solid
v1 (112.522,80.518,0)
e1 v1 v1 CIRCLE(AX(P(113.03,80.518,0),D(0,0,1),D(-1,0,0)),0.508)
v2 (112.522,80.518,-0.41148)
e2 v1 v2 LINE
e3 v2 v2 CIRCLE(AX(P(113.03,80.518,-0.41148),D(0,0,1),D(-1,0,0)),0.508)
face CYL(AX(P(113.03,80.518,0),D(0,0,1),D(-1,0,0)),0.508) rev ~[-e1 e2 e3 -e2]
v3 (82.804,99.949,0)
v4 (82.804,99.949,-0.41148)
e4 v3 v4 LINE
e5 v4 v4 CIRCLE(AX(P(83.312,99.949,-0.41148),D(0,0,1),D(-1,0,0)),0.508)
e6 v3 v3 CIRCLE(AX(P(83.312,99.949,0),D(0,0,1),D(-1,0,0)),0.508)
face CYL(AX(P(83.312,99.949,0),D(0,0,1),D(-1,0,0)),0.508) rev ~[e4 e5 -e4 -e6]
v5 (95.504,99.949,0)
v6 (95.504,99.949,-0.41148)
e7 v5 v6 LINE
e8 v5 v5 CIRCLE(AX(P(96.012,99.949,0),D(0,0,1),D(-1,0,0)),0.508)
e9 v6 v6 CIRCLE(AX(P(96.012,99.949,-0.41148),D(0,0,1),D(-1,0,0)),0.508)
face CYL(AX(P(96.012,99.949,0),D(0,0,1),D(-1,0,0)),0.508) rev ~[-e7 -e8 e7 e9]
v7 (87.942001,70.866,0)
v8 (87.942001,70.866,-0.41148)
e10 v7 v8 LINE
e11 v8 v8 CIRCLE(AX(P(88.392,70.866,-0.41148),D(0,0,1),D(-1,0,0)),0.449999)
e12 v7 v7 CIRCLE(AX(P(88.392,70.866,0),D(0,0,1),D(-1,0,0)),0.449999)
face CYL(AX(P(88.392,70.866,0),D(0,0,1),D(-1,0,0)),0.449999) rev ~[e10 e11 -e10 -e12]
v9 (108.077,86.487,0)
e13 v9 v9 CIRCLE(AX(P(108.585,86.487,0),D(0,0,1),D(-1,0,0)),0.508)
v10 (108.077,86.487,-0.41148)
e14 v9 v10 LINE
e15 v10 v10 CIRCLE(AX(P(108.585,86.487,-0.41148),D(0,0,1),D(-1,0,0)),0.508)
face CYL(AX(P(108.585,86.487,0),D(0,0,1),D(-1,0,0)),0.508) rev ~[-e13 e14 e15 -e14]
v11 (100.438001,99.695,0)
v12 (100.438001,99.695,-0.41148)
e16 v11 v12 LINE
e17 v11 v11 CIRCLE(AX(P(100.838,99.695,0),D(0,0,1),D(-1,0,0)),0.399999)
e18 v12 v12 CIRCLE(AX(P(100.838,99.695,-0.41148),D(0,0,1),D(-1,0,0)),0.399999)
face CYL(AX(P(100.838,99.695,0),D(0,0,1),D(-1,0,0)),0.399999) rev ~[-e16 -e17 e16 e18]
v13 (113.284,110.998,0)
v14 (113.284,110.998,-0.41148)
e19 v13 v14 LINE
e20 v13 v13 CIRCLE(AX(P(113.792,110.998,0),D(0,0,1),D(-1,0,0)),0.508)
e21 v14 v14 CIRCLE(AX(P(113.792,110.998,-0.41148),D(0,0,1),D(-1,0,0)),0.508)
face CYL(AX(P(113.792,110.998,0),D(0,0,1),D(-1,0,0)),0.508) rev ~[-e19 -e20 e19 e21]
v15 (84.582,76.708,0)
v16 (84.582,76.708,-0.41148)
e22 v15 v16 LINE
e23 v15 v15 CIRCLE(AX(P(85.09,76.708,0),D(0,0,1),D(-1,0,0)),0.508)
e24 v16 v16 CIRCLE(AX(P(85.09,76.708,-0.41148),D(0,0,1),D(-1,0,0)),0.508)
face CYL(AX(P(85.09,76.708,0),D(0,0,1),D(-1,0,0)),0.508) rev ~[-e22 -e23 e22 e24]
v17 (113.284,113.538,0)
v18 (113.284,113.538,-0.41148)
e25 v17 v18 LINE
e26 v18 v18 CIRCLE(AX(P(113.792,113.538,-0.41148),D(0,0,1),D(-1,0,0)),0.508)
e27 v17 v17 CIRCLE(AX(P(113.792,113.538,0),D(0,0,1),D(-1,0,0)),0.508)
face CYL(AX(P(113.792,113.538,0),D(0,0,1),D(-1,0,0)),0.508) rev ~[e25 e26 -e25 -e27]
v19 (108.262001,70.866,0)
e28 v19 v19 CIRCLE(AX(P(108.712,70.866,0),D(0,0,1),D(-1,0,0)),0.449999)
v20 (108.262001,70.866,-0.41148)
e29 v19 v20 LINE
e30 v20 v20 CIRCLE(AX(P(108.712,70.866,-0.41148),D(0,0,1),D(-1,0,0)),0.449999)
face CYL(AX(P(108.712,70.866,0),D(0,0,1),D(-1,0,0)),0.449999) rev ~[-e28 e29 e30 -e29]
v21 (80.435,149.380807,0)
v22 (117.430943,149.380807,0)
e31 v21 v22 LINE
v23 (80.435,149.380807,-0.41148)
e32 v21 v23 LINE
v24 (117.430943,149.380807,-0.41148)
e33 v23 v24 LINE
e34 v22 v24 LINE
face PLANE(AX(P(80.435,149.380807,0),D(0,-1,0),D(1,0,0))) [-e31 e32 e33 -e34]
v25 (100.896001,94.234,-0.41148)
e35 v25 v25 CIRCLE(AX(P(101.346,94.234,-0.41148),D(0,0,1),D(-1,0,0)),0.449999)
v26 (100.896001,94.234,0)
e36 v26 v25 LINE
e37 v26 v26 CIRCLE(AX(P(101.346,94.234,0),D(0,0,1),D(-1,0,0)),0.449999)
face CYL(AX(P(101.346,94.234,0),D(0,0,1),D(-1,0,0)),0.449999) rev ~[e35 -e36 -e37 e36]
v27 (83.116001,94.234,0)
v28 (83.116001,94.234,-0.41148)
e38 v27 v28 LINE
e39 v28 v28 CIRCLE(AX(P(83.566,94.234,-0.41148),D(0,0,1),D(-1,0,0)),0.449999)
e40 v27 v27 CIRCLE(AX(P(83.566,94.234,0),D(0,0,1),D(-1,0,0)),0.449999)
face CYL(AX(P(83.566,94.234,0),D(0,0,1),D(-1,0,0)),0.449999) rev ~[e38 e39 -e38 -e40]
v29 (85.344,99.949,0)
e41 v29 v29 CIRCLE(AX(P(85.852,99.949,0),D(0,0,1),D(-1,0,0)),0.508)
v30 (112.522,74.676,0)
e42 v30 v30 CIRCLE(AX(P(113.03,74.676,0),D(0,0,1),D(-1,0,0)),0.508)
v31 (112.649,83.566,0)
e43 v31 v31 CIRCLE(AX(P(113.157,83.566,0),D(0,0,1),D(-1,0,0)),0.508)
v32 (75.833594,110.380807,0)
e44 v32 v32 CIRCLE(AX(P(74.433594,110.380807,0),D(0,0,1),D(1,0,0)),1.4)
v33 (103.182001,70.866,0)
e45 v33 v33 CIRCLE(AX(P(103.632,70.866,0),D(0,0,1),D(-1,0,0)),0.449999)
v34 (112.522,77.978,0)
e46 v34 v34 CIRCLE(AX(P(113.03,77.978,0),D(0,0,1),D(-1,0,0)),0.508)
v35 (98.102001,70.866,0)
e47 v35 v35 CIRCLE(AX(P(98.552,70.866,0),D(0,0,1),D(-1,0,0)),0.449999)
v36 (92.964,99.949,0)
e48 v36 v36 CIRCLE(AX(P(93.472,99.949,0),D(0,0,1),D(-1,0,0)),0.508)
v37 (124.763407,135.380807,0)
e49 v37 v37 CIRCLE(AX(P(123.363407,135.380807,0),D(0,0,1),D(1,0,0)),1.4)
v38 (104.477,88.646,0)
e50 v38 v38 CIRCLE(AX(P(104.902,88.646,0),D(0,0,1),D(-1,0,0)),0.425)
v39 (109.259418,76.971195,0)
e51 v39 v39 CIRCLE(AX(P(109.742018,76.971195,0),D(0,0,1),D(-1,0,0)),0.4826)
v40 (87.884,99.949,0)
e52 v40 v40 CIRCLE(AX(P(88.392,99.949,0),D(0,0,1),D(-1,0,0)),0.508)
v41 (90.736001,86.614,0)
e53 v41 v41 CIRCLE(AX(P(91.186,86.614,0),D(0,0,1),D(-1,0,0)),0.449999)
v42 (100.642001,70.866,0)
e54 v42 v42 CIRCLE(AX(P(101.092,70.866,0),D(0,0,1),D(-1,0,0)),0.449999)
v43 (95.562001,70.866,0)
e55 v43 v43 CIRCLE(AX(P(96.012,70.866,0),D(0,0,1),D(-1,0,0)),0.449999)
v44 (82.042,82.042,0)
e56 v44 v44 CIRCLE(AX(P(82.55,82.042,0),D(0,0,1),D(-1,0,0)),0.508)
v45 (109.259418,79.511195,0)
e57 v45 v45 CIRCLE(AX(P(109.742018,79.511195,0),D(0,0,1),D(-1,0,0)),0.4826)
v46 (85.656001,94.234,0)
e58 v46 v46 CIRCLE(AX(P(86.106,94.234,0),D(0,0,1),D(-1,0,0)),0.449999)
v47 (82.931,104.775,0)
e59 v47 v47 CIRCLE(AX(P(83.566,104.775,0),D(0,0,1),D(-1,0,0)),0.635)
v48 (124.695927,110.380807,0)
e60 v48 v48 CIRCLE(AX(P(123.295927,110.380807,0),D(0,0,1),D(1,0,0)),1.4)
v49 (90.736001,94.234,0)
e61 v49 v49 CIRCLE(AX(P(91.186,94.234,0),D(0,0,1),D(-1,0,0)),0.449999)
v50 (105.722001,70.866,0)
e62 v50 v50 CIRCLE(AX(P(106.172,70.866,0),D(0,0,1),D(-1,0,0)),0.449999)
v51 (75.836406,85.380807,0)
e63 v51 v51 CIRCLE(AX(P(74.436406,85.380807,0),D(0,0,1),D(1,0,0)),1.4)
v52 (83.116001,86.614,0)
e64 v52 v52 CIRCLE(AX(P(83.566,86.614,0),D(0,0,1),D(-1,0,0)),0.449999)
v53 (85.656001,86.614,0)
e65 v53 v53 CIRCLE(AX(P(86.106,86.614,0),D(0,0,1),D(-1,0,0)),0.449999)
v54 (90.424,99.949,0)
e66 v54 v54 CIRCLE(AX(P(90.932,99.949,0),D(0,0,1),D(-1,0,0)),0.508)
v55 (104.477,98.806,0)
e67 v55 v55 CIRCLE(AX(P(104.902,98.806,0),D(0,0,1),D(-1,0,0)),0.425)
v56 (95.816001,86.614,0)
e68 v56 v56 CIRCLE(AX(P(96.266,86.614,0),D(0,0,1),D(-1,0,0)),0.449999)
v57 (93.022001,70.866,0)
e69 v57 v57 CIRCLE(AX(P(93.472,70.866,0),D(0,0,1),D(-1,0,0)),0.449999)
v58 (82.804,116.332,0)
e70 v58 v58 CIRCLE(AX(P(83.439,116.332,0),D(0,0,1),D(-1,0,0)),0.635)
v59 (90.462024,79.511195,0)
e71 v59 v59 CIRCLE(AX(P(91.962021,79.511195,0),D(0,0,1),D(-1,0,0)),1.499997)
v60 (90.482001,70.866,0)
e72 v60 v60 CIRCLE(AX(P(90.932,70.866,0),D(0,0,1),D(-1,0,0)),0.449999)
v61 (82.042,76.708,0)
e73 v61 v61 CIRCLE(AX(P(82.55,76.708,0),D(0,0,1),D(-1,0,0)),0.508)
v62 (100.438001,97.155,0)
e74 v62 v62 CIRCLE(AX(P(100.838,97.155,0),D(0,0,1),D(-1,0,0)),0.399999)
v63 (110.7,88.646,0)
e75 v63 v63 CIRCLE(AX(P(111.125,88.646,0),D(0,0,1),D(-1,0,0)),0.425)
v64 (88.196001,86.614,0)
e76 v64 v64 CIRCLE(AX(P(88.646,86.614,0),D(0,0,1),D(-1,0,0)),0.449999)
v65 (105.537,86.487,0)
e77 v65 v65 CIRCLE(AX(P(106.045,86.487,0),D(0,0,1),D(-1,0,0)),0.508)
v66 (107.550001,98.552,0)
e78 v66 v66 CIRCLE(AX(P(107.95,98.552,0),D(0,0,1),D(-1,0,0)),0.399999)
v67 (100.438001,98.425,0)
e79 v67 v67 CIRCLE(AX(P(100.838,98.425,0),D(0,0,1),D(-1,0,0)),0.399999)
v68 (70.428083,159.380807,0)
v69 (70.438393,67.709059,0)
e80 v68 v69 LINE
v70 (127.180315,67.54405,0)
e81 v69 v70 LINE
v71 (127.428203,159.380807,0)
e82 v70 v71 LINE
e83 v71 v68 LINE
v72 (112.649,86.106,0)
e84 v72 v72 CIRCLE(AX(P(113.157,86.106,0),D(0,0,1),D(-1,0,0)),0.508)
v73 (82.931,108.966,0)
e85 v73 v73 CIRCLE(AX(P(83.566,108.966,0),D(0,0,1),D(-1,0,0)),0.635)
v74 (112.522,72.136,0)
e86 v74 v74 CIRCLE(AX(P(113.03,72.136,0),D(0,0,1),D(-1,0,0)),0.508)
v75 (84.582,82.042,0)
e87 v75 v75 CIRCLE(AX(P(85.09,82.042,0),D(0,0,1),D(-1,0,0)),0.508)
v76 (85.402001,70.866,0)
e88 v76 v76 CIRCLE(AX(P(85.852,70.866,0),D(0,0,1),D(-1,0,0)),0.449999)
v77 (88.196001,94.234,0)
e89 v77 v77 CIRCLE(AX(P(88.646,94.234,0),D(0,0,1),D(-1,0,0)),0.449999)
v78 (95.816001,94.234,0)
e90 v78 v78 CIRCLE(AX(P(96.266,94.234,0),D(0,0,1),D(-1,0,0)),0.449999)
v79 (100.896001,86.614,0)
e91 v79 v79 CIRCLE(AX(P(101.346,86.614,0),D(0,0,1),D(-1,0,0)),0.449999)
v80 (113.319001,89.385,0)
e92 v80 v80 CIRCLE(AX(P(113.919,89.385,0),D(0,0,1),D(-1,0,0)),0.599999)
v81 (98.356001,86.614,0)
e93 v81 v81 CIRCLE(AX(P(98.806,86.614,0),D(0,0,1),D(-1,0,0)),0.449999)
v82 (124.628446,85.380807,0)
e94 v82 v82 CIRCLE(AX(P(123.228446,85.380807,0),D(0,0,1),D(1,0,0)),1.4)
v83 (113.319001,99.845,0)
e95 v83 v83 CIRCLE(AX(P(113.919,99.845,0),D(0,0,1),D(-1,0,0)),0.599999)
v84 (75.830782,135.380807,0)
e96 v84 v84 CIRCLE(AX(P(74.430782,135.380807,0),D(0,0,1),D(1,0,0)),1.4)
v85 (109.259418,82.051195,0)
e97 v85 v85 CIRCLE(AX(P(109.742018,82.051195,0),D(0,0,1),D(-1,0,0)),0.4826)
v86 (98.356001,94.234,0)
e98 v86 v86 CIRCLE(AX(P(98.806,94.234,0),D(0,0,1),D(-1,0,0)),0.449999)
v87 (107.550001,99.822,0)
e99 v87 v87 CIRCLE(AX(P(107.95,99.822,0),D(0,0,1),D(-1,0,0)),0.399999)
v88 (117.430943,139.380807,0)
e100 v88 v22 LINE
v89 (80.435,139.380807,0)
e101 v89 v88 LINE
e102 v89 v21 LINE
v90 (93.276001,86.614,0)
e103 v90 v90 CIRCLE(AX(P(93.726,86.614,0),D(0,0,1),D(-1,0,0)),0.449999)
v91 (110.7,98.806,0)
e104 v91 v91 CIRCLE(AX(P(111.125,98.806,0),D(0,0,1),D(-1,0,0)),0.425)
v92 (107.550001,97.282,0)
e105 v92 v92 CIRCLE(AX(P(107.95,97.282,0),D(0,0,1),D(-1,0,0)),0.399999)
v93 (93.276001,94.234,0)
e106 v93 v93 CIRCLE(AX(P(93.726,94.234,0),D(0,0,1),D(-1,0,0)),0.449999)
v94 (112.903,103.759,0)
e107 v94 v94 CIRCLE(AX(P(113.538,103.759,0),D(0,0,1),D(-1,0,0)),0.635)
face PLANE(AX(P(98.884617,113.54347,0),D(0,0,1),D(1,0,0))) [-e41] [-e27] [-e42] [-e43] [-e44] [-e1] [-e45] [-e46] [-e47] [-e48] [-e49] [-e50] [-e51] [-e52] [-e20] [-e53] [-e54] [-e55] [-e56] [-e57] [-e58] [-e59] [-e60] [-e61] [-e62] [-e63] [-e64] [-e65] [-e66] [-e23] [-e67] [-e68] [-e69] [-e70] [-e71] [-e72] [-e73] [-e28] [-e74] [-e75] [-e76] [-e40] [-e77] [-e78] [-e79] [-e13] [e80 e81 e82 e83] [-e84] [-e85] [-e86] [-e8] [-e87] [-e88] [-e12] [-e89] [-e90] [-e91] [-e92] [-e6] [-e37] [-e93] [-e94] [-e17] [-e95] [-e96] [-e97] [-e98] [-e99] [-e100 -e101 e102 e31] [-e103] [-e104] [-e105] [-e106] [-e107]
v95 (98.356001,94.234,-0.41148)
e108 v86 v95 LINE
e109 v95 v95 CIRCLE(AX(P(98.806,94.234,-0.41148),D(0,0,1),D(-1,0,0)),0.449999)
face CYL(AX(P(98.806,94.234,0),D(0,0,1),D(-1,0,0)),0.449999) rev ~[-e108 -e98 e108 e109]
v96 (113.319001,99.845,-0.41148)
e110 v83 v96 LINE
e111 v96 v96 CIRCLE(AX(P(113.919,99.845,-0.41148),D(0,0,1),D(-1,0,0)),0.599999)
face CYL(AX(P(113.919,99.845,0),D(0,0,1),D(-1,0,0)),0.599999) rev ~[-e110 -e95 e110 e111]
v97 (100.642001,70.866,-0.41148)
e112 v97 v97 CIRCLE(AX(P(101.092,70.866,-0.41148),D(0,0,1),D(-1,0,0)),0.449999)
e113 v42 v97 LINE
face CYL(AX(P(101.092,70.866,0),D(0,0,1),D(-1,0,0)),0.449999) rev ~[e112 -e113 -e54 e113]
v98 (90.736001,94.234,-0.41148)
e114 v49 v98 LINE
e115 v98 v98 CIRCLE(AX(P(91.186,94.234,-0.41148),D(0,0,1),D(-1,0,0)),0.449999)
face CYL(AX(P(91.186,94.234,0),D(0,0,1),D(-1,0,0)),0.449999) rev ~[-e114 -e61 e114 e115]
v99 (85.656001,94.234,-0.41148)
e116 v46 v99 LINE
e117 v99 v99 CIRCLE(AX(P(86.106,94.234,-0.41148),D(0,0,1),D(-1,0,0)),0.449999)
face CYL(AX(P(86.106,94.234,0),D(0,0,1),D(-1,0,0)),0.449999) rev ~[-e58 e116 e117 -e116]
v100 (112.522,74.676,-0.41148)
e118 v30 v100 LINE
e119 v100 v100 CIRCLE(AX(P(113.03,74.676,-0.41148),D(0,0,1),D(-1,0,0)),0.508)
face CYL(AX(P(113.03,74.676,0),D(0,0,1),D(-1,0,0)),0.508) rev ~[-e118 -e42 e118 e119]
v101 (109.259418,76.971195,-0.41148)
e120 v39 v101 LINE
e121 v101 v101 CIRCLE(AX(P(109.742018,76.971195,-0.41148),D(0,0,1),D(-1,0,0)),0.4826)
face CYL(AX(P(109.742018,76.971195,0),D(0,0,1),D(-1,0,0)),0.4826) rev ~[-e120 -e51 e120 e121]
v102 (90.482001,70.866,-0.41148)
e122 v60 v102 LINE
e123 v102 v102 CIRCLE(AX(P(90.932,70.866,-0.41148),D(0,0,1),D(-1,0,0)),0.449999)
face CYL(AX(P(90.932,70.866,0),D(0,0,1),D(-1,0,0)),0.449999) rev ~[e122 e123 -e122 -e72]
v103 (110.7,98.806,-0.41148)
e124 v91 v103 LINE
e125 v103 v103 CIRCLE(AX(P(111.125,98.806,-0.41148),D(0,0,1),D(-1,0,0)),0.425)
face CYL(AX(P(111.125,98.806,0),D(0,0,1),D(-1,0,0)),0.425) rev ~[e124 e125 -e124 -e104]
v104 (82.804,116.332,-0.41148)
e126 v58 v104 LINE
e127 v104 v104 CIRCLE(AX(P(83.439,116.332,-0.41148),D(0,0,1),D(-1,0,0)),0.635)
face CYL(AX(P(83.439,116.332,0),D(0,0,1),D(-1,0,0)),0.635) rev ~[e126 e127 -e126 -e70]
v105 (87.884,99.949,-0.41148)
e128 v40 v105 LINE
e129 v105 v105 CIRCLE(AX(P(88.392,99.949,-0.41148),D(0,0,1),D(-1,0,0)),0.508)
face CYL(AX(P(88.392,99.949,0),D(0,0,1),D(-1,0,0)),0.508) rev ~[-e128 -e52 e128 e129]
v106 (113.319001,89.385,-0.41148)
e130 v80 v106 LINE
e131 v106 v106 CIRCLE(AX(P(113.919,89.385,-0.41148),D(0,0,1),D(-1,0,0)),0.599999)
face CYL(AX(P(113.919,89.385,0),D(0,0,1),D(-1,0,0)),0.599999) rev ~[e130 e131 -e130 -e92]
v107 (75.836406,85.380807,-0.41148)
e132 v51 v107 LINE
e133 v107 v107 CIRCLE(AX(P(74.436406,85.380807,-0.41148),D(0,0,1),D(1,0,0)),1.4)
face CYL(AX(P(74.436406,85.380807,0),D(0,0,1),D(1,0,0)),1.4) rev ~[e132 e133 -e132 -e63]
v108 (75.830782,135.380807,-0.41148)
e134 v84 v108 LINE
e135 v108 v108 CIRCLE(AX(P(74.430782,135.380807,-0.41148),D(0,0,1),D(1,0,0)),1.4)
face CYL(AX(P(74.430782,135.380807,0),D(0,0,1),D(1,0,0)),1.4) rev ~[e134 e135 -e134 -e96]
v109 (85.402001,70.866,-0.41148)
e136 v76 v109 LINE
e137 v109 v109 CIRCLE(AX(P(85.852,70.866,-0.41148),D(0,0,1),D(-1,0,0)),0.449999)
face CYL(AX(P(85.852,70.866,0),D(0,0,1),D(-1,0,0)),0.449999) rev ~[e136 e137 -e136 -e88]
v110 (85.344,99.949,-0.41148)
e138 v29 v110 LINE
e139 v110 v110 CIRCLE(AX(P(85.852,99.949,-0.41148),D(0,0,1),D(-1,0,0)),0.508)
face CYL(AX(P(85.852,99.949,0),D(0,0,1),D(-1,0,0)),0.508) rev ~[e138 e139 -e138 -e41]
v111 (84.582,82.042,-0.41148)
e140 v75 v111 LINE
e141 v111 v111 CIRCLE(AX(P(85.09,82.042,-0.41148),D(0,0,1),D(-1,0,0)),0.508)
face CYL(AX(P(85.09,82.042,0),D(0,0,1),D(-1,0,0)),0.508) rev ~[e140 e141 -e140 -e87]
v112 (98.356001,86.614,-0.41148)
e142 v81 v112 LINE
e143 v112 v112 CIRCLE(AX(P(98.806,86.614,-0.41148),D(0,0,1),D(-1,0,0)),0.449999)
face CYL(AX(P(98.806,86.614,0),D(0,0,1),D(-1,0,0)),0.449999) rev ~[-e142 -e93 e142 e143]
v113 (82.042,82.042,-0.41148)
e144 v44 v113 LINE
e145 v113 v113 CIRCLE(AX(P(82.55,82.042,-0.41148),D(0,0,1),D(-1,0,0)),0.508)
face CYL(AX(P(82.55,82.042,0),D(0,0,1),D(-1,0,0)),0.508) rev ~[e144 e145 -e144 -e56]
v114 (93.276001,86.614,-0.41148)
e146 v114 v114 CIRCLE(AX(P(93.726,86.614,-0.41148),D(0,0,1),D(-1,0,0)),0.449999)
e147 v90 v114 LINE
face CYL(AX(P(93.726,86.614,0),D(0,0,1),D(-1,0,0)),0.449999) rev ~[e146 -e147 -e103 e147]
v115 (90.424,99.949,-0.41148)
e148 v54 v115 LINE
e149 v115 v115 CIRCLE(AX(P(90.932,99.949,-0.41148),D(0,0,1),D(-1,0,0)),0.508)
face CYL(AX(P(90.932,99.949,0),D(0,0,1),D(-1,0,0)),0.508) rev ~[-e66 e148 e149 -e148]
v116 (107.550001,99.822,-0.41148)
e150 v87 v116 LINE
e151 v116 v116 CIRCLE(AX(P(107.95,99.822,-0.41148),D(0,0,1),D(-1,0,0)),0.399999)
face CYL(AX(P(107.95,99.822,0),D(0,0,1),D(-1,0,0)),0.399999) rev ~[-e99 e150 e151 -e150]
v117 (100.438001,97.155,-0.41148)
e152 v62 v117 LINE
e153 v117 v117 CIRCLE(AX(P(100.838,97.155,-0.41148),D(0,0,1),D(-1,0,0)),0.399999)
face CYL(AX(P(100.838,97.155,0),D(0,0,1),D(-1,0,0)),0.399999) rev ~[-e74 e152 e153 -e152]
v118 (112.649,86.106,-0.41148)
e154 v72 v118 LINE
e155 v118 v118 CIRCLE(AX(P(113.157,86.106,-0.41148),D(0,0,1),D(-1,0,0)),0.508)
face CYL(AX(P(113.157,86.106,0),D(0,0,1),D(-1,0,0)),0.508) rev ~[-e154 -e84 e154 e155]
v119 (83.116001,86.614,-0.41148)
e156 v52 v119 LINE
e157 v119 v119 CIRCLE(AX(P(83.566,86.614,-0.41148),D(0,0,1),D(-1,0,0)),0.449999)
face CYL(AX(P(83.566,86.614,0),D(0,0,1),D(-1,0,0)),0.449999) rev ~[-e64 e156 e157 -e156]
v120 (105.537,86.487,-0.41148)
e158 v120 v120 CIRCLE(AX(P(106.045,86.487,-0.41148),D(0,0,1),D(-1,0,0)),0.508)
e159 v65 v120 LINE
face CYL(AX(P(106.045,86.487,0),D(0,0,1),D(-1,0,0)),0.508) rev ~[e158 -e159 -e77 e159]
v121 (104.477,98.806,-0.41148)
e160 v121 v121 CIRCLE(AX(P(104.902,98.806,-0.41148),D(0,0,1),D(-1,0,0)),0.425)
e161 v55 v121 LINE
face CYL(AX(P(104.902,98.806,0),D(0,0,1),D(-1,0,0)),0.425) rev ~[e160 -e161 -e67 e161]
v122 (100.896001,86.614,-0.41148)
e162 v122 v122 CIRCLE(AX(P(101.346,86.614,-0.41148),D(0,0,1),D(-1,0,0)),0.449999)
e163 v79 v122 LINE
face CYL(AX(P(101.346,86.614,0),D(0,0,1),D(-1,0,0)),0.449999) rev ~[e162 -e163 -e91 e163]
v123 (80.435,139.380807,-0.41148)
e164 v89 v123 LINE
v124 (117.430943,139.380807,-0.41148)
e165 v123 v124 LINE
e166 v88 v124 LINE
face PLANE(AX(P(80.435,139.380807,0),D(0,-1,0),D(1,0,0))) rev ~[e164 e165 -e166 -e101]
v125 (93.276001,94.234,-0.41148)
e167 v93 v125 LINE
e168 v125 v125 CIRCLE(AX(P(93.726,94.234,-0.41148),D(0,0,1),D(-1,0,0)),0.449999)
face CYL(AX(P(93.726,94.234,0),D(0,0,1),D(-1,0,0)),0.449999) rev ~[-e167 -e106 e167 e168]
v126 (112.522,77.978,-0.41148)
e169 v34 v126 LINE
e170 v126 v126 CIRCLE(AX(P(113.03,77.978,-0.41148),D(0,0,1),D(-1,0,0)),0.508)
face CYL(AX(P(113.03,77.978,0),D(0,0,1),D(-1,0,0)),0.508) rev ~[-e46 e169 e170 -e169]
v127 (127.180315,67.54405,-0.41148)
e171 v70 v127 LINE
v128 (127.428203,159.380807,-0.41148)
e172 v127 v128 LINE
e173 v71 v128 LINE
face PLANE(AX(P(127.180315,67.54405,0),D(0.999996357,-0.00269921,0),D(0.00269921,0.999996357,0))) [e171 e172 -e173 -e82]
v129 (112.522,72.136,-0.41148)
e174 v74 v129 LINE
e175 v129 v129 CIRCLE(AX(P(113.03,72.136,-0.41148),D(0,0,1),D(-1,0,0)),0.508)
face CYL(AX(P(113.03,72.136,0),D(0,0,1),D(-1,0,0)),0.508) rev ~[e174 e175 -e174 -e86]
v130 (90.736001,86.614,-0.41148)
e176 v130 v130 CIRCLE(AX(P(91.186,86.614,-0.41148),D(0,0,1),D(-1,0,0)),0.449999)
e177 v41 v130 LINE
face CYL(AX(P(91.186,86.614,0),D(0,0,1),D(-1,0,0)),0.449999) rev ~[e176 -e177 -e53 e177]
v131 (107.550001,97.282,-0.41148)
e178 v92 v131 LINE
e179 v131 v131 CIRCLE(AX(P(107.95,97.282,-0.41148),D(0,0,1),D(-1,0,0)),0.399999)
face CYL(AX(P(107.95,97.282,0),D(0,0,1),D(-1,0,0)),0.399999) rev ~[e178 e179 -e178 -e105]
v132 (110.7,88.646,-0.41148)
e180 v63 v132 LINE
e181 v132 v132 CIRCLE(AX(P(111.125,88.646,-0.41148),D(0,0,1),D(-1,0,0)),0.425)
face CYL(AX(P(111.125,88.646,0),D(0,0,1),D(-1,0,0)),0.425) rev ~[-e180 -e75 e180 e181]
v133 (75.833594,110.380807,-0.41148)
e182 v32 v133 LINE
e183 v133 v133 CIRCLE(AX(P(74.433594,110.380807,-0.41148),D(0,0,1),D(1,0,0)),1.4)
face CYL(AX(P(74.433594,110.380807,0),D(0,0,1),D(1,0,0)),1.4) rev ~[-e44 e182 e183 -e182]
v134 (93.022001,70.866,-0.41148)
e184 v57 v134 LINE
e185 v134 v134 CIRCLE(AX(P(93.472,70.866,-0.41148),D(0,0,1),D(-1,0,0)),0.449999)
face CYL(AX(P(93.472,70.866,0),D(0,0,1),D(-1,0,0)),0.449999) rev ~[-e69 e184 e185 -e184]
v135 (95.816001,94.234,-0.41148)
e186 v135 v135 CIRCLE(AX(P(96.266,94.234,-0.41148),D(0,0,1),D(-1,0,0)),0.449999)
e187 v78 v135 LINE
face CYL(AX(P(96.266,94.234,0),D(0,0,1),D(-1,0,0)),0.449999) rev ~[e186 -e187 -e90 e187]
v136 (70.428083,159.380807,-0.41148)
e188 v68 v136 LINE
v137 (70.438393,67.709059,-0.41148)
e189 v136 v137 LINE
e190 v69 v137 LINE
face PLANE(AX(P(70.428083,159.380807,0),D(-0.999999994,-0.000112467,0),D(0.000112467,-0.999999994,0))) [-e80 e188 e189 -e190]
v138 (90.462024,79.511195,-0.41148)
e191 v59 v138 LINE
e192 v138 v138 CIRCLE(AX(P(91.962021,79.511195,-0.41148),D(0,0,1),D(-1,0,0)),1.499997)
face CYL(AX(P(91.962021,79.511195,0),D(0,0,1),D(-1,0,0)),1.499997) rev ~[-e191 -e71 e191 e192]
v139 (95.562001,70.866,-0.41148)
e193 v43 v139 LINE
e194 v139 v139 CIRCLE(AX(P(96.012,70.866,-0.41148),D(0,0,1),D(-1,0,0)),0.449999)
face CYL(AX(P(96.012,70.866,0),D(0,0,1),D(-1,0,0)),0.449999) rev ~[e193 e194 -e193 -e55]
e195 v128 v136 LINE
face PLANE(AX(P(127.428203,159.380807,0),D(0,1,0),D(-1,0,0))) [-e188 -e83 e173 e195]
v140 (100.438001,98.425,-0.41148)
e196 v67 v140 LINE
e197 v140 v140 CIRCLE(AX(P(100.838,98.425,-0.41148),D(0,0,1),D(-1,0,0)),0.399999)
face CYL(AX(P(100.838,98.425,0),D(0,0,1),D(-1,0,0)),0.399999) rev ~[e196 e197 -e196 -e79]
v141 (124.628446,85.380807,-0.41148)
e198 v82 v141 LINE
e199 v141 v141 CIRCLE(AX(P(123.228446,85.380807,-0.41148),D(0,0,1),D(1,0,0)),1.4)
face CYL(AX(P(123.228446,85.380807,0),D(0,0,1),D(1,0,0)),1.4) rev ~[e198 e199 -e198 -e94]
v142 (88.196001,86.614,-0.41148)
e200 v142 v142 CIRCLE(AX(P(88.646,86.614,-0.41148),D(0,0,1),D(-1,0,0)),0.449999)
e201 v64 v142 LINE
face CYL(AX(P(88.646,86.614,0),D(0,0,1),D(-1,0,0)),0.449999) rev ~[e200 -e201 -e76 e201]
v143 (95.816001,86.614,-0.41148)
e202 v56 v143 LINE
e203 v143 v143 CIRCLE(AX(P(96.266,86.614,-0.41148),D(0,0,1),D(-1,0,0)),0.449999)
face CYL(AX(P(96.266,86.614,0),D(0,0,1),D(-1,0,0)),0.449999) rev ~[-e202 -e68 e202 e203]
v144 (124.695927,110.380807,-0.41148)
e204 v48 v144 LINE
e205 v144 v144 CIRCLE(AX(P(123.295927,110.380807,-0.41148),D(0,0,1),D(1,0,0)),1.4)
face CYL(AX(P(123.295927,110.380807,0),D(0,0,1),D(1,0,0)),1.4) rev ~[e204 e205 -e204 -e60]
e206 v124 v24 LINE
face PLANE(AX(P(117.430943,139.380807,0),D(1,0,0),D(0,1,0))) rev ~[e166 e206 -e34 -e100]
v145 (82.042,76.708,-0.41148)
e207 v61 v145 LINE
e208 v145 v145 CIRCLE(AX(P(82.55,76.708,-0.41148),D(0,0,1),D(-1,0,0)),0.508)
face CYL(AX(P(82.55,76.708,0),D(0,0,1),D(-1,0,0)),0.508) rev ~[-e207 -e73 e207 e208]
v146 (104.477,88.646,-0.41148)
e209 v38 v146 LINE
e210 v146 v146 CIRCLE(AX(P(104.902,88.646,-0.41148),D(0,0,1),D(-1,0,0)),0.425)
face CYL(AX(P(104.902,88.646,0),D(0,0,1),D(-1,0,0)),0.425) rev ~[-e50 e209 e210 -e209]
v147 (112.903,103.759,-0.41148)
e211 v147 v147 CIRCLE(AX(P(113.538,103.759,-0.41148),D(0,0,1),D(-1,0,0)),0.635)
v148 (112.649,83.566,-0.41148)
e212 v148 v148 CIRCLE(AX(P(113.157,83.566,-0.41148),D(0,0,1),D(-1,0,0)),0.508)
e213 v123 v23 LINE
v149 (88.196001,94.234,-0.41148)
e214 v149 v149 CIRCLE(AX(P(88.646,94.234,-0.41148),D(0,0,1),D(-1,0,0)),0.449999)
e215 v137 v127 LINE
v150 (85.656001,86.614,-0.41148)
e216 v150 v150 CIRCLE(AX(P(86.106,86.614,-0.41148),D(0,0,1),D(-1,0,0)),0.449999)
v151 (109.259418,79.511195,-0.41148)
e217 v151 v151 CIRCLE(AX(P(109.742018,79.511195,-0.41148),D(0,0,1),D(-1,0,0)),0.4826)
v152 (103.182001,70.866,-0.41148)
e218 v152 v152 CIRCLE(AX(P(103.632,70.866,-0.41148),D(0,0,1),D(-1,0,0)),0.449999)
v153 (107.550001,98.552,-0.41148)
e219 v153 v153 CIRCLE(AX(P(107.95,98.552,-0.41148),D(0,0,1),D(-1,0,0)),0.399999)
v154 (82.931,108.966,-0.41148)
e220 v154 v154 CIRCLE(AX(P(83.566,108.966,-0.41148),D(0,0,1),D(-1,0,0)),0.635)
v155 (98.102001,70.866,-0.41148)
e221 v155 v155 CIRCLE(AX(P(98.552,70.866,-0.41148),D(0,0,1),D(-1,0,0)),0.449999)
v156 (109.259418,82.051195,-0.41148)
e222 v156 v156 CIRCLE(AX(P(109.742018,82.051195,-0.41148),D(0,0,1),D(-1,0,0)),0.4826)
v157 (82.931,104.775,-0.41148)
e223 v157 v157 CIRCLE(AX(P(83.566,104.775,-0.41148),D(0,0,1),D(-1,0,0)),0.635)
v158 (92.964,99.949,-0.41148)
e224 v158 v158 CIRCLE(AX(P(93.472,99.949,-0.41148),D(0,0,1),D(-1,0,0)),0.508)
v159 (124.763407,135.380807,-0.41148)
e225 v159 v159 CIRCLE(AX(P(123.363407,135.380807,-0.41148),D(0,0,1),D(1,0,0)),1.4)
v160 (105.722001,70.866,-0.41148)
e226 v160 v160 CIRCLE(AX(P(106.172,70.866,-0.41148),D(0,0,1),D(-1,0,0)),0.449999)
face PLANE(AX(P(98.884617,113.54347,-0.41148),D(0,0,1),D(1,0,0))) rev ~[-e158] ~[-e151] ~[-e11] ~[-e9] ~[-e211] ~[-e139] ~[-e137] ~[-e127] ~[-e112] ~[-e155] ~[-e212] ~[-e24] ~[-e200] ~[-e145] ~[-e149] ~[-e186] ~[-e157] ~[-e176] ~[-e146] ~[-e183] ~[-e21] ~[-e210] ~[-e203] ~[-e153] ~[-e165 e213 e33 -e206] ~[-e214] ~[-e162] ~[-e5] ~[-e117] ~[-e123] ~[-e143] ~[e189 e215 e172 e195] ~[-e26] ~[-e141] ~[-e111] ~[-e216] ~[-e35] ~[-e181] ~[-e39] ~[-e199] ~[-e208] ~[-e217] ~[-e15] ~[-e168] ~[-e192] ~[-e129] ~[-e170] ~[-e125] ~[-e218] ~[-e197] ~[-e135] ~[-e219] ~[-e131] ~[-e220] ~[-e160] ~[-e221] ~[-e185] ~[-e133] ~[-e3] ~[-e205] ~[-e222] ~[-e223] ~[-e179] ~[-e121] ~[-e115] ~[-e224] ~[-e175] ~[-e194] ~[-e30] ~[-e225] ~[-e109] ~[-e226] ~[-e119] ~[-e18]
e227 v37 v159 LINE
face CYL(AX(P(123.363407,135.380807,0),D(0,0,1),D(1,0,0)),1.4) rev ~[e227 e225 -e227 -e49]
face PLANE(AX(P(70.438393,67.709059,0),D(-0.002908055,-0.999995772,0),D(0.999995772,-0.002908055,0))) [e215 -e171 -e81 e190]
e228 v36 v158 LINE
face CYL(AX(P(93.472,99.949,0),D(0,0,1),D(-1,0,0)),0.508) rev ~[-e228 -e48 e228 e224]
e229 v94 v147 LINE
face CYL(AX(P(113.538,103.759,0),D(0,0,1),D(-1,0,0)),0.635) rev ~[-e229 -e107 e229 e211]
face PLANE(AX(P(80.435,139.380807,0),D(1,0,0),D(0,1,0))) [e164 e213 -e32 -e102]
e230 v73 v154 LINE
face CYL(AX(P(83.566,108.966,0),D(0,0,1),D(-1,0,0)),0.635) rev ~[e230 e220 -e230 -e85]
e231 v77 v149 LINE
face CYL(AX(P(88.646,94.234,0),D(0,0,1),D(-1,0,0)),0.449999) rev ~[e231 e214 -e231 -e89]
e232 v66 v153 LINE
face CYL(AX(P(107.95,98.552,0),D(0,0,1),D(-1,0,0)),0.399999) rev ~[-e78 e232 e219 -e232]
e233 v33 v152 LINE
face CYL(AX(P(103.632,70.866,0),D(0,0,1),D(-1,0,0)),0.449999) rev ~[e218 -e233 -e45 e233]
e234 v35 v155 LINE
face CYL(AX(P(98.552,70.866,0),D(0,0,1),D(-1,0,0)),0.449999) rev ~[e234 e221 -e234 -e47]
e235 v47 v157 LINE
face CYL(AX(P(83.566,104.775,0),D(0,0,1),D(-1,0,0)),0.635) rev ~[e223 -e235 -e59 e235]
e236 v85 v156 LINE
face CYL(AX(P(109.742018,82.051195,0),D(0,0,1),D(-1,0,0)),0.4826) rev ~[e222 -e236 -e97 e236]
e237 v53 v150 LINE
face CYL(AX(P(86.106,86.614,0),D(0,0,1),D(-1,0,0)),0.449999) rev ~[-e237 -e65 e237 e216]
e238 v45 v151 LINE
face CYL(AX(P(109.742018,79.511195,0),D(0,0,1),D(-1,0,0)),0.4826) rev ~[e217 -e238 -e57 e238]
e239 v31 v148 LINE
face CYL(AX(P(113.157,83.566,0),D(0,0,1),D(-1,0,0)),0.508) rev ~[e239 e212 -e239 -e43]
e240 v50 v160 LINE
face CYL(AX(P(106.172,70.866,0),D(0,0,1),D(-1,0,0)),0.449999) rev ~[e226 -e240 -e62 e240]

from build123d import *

# Parameters (mm, degrees)
SKETCH1_R           = 0.508
SKETCH1_R_2         = 0.5999988
SKETCH1_R_3         = 0.635
SKETCH1_R_4         = 0.3999992
SKETCH1_R_5         = 0.42500042
SKETCH1_R_6         = 0.4499991
SKETCH1_R_7         = 0.4826
SKETCH1_R_8         = 1.499997
SKETCH1_R_9         = 1.4
SKETCH1_W           = 36.995943026
SKETCH1_H           = 10
BOSS_EXTRUDE1_DEPTH = 0.41148


with BuildPart() as part:
    # Sketch1 → Boss-Extrude1 (new body)
    with BuildSketch(Plane.XY):
        Polygon((70.438392982, 67.709058894), (127.180315397, 67.544049582), (127.428203039, 159.380807101), (70.428082966, 159.380807101), align=None)
        with Locations(Location((113.792, 110.998, 0), (0, 0, 180))):
            Circle(SKETCH1_R, mode=Mode.SUBTRACT)
        with Locations(Location((113.792, 113.538, 0), (0, 0, 180))):
            Circle(SKETCH1_R, mode=Mode.SUBTRACT)
        with Locations(Location((113.919, 99.8449997, 0), (0, 0, 180))):
            Circle(SKETCH1_R_2, mode=Mode.SUBTRACT)
        with Locations(Location((113.538, 103.759, 0), (0, 0, 180))):
            Circle(SKETCH1_R_3, mode=Mode.SUBTRACT)
        with Locations(Location((107.95, 99.822, 0), (0, 0, 180))):
            Circle(SKETCH1_R_4, mode=Mode.SUBTRACT)
        with Locations(Location((111.125, 98.806, 0), (0, 0, 180))):
            Circle(SKETCH1_R_5, mode=Mode.SUBTRACT)
        with Locations(Location((113.919, 89.3850003, 0), (0, 0, 180))):
            Circle(SKETCH1_R_2, mode=Mode.SUBTRACT)
        with Locations(Location((107.95, 98.552, 0), (0, 0, 180))):
            Circle(SKETCH1_R_4, mode=Mode.SUBTRACT)
        with Locations(Location((111.125, 88.646, 0), (0, 0, 180))):
            Circle(SKETCH1_R_5, mode=Mode.SUBTRACT)
        with Locations(Location((104.902, 98.806, 0), (0, 0, 180))):
            Circle(SKETCH1_R_5, mode=Mode.SUBTRACT)
        with Locations(Location((107.95, 97.282, 0), (0, 0, 180))):
            Circle(SKETCH1_R_4, mode=Mode.SUBTRACT)
        with Locations(Location((100.838, 99.695, 0), (0, 0, 180))):
            Circle(SKETCH1_R_4, mode=Mode.SUBTRACT)
        with Locations(Location((100.838, 98.425, 0), (0, 0, 180))):
            Circle(SKETCH1_R_4, mode=Mode.SUBTRACT)
        with Locations(Location((101.346, 94.234, 0), (0, 0, 180))):
            Circle(SKETCH1_R_6, mode=Mode.SUBTRACT)
        with Locations(Location((104.902, 88.646, 0), (0, 0, 180))):
            Circle(SKETCH1_R_5, mode=Mode.SUBTRACT)
        with Locations(Location((100.838, 97.155, 0), (0, 0, 180))):
            Circle(SKETCH1_R_4, mode=Mode.SUBTRACT)
        with Locations(Location((101.346, 86.614, 0), (0, 0, 180))):
            Circle(SKETCH1_R_6, mode=Mode.SUBTRACT)
        with Locations(Location((113.157, 86.106, 0), (0, 0, 180))):
            Circle(SKETCH1_R, mode=Mode.SUBTRACT)
        with Locations(Location((113.157, 83.566, 0), (0, 0, 180))):
            Circle(SKETCH1_R, mode=Mode.SUBTRACT)
        with Locations(Location((109.74201826, 82.0511948, 0), (0, 0, 180))):
            Circle(SKETCH1_R_7, mode=Mode.SUBTRACT)
        with Locations(Location((113.03, 80.518, 0), (0, 0, 180))):
            Circle(SKETCH1_R, mode=Mode.SUBTRACT)
        with Locations(Location((113.03, 74.676, 0), (0, 0, 180))):
            Circle(SKETCH1_R, mode=Mode.SUBTRACT)
        with Locations(Location((113.03, 72.136, 0), (0, 0, 180))):
            Circle(SKETCH1_R, mode=Mode.SUBTRACT)
        with Locations(Location((109.74201826, 79.5111948, 0), (0, 0, 180))):
            Circle(SKETCH1_R_7, mode=Mode.SUBTRACT)
        with Locations(Location((113.03, 77.978, 0), (0, 0, 180))):
            Circle(SKETCH1_R, mode=Mode.SUBTRACT)
        with Locations(Location((108.585, 86.487, 0), (0, 0, 180))):
            Circle(SKETCH1_R, mode=Mode.SUBTRACT)
        with Locations(Location((109.74201826, 76.9711948, 0), (0, 0, 180))):
            Circle(SKETCH1_R_7, mode=Mode.SUBTRACT)
        with Locations(Location((98.806, 86.614, 0), (0, 0, 180))):
            Circle(SKETCH1_R_6, mode=Mode.SUBTRACT)
        with Locations(Location((106.045, 86.487, 0), (0, 0, 180))):
            Circle(SKETCH1_R, mode=Mode.SUBTRACT)
        with Locations(Location((106.172, 70.866, 0), (0, 0, 180))):
            Circle(SKETCH1_R_6, mode=Mode.SUBTRACT)
        with Locations(Location((108.712, 70.866, 0), (0, 0, 180))):
            Circle(SKETCH1_R_6, mode=Mode.SUBTRACT)
        with Locations(Location((101.092, 70.866, 0), (0, 0, 180))):
            Circle(SKETCH1_R_6, mode=Mode.SUBTRACT)
        with Locations(Location((103.632, 70.866, 0), (0, 0, 180))):
            Circle(SKETCH1_R_6, mode=Mode.SUBTRACT)
        with Locations(Location((96.266, 94.234, 0), (0, 0, 180))):
            Circle(SKETCH1_R_6, mode=Mode.SUBTRACT)
        with Locations(Location((96.012, 99.949, 0), (0, 0, 180))):
            Circle(SKETCH1_R, mode=Mode.SUBTRACT)
        with Locations(Location((93.726, 94.234, 0), (0, 0, 180))):
            Circle(SKETCH1_R_6, mode=Mode.SUBTRACT)
        with Locations(Location((90.932, 99.949, 0), (0, 0, 180))):
            Circle(SKETCH1_R, mode=Mode.SUBTRACT)
        with Locations(Location((93.472, 99.949, 0), (0, 0, 180))):
            Circle(SKETCH1_R, mode=Mode.SUBTRACT)
        with Locations(Location((98.806, 94.234, 0), (0, 0, 180))):
            Circle(SKETCH1_R_6, mode=Mode.SUBTRACT)
        with Locations(Location((93.726, 86.614, 0), (0, 0, 180))):
            Circle(SKETCH1_R_6, mode=Mode.SUBTRACT)
        with Locations(Location((88.646, 94.234, 0), (0, 0, 180))):
            Circle(SKETCH1_R_6, mode=Mode.SUBTRACT)
        with Locations(Location((91.186, 94.234, 0), (0, 0, 180))):
            Circle(SKETCH1_R_6, mode=Mode.SUBTRACT)
        with Locations(Location((83.566, 104.775, 0), (0, 0, 180))):
            Circle(SKETCH1_R_3, mode=Mode.SUBTRACT)
        with Locations(Location((85.852, 99.949, 0), (0, 0, 180))):
            Circle(SKETCH1_R, mode=Mode.SUBTRACT)
        with Locations(Location((83.439, 116.332, 0), (0, 0, 180))):
            Circle(SKETCH1_R_3, mode=Mode.SUBTRACT)
        with Locations(Location((83.566, 108.966, 0), (0, 0, 180))):
            Circle(SKETCH1_R_3, mode=Mode.SUBTRACT)
        with Locations(Location((88.392, 99.949, 0), (0, 0, 180))):
            Circle(SKETCH1_R, mode=Mode.SUBTRACT)
        with Locations(Location((86.106, 94.234, 0), (0, 0, 180))):
            Circle(SKETCH1_R_6, mode=Mode.SUBTRACT)
        with Locations(Location((83.312, 99.949, 0), (0, 0, 180))):
            Circle(SKETCH1_R, mode=Mode.SUBTRACT)
        with Locations(Location((83.566, 94.234, 0), (0, 0, 180))):
            Circle(SKETCH1_R_6, mode=Mode.SUBTRACT)
        with Locations(Location((91.186, 86.614, 0), (0, 0, 180))):
            Circle(SKETCH1_R_6, mode=Mode.SUBTRACT)
        with Locations(Location((96.266, 86.614, 0), (0, 0, 180))):
            Circle(SKETCH1_R_6, mode=Mode.SUBTRACT)
        with Locations(Location((88.646, 86.614, 0), (0, 0, 180))):
            Circle(SKETCH1_R_6, mode=Mode.SUBTRACT)
        with Locations(Location((91.9620208, 79.5111948, 0), (0, 0, 180))):
            Circle(SKETCH1_R_8, mode=Mode.SUBTRACT)
        with Locations(Location((96.012, 70.866, 0), (0, 0, 180))):
            Circle(SKETCH1_R_6, mode=Mode.SUBTRACT)
        with Locations(Location((98.552, 70.866, 0), (0, 0, 180))):
            Circle(SKETCH1_R_6, mode=Mode.SUBTRACT)
        with Locations(Location((90.932, 70.866, 0), (0, 0, 180))):
            Circle(SKETCH1_R_6, mode=Mode.SUBTRACT)
        with Locations(Location((93.472, 70.866, 0), (0, 0, 180))):
            Circle(SKETCH1_R_6, mode=Mode.SUBTRACT)
        with Locations(Location((86.106, 86.614, 0), (0, 0, 180))):
            Circle(SKETCH1_R_6, mode=Mode.SUBTRACT)
        with Locations(Location((85.09, 82.042, 0), (0, 0, 180))):
            Circle(SKETCH1_R, mode=Mode.SUBTRACT)
        with Locations(Location((83.566, 86.614, 0), (0, 0, 180))):
            Circle(SKETCH1_R_6, mode=Mode.SUBTRACT)
        with Locations(Location((82.55, 82.042, 0), (0, 0, 180))):
            Circle(SKETCH1_R, mode=Mode.SUBTRACT)
        with Locations(Location((85.852, 70.866, 0), (0, 0, 180))):
            Circle(SKETCH1_R_6, mode=Mode.SUBTRACT)
        with Locations(Location((88.392, 70.866, 0), (0, 0, 180))):
            Circle(SKETCH1_R_6, mode=Mode.SUBTRACT)
        with Locations(Location((82.55, 76.708, 0), (0, 0, 180))):
            Circle(SKETCH1_R, mode=Mode.SUBTRACT)
        with Locations(Location((85.09, 76.708, 0), (0, 0, 180))):
            Circle(SKETCH1_R, mode=Mode.SUBTRACT)
        with Locations((123.36340718, 135.380807101)):
            Circle(SKETCH1_R_9, mode=Mode.SUBTRACT)
        with Locations((74.430782191, 135.380807101)):
            Circle(SKETCH1_R_9, mode=Mode.SUBTRACT)
        with Locations((74.433593858, 110.380807101)):
            Circle(SKETCH1_R_9, mode=Mode.SUBTRACT)
        with Locations((123.295926672, 110.380807101)):
            Circle(SKETCH1_R_9, mode=Mode.SUBTRACT)
        with Locations((74.436405524, 85.380807101)):
            Circle(SKETCH1_R_9, mode=Mode.SUBTRACT)
        with Locations((123.228446164, 85.380807101)):
            Circle(SKETCH1_R_9, mode=Mode.SUBTRACT)
        with Locations((98.932971513, 144.380807101)):
            Rectangle(SKETCH1_W, SKETCH1_H, mode=Mode.SUBTRACT)
    extrude(amount=-BOSS_EXTRUDE1_DEPTH)


solid = part.part
